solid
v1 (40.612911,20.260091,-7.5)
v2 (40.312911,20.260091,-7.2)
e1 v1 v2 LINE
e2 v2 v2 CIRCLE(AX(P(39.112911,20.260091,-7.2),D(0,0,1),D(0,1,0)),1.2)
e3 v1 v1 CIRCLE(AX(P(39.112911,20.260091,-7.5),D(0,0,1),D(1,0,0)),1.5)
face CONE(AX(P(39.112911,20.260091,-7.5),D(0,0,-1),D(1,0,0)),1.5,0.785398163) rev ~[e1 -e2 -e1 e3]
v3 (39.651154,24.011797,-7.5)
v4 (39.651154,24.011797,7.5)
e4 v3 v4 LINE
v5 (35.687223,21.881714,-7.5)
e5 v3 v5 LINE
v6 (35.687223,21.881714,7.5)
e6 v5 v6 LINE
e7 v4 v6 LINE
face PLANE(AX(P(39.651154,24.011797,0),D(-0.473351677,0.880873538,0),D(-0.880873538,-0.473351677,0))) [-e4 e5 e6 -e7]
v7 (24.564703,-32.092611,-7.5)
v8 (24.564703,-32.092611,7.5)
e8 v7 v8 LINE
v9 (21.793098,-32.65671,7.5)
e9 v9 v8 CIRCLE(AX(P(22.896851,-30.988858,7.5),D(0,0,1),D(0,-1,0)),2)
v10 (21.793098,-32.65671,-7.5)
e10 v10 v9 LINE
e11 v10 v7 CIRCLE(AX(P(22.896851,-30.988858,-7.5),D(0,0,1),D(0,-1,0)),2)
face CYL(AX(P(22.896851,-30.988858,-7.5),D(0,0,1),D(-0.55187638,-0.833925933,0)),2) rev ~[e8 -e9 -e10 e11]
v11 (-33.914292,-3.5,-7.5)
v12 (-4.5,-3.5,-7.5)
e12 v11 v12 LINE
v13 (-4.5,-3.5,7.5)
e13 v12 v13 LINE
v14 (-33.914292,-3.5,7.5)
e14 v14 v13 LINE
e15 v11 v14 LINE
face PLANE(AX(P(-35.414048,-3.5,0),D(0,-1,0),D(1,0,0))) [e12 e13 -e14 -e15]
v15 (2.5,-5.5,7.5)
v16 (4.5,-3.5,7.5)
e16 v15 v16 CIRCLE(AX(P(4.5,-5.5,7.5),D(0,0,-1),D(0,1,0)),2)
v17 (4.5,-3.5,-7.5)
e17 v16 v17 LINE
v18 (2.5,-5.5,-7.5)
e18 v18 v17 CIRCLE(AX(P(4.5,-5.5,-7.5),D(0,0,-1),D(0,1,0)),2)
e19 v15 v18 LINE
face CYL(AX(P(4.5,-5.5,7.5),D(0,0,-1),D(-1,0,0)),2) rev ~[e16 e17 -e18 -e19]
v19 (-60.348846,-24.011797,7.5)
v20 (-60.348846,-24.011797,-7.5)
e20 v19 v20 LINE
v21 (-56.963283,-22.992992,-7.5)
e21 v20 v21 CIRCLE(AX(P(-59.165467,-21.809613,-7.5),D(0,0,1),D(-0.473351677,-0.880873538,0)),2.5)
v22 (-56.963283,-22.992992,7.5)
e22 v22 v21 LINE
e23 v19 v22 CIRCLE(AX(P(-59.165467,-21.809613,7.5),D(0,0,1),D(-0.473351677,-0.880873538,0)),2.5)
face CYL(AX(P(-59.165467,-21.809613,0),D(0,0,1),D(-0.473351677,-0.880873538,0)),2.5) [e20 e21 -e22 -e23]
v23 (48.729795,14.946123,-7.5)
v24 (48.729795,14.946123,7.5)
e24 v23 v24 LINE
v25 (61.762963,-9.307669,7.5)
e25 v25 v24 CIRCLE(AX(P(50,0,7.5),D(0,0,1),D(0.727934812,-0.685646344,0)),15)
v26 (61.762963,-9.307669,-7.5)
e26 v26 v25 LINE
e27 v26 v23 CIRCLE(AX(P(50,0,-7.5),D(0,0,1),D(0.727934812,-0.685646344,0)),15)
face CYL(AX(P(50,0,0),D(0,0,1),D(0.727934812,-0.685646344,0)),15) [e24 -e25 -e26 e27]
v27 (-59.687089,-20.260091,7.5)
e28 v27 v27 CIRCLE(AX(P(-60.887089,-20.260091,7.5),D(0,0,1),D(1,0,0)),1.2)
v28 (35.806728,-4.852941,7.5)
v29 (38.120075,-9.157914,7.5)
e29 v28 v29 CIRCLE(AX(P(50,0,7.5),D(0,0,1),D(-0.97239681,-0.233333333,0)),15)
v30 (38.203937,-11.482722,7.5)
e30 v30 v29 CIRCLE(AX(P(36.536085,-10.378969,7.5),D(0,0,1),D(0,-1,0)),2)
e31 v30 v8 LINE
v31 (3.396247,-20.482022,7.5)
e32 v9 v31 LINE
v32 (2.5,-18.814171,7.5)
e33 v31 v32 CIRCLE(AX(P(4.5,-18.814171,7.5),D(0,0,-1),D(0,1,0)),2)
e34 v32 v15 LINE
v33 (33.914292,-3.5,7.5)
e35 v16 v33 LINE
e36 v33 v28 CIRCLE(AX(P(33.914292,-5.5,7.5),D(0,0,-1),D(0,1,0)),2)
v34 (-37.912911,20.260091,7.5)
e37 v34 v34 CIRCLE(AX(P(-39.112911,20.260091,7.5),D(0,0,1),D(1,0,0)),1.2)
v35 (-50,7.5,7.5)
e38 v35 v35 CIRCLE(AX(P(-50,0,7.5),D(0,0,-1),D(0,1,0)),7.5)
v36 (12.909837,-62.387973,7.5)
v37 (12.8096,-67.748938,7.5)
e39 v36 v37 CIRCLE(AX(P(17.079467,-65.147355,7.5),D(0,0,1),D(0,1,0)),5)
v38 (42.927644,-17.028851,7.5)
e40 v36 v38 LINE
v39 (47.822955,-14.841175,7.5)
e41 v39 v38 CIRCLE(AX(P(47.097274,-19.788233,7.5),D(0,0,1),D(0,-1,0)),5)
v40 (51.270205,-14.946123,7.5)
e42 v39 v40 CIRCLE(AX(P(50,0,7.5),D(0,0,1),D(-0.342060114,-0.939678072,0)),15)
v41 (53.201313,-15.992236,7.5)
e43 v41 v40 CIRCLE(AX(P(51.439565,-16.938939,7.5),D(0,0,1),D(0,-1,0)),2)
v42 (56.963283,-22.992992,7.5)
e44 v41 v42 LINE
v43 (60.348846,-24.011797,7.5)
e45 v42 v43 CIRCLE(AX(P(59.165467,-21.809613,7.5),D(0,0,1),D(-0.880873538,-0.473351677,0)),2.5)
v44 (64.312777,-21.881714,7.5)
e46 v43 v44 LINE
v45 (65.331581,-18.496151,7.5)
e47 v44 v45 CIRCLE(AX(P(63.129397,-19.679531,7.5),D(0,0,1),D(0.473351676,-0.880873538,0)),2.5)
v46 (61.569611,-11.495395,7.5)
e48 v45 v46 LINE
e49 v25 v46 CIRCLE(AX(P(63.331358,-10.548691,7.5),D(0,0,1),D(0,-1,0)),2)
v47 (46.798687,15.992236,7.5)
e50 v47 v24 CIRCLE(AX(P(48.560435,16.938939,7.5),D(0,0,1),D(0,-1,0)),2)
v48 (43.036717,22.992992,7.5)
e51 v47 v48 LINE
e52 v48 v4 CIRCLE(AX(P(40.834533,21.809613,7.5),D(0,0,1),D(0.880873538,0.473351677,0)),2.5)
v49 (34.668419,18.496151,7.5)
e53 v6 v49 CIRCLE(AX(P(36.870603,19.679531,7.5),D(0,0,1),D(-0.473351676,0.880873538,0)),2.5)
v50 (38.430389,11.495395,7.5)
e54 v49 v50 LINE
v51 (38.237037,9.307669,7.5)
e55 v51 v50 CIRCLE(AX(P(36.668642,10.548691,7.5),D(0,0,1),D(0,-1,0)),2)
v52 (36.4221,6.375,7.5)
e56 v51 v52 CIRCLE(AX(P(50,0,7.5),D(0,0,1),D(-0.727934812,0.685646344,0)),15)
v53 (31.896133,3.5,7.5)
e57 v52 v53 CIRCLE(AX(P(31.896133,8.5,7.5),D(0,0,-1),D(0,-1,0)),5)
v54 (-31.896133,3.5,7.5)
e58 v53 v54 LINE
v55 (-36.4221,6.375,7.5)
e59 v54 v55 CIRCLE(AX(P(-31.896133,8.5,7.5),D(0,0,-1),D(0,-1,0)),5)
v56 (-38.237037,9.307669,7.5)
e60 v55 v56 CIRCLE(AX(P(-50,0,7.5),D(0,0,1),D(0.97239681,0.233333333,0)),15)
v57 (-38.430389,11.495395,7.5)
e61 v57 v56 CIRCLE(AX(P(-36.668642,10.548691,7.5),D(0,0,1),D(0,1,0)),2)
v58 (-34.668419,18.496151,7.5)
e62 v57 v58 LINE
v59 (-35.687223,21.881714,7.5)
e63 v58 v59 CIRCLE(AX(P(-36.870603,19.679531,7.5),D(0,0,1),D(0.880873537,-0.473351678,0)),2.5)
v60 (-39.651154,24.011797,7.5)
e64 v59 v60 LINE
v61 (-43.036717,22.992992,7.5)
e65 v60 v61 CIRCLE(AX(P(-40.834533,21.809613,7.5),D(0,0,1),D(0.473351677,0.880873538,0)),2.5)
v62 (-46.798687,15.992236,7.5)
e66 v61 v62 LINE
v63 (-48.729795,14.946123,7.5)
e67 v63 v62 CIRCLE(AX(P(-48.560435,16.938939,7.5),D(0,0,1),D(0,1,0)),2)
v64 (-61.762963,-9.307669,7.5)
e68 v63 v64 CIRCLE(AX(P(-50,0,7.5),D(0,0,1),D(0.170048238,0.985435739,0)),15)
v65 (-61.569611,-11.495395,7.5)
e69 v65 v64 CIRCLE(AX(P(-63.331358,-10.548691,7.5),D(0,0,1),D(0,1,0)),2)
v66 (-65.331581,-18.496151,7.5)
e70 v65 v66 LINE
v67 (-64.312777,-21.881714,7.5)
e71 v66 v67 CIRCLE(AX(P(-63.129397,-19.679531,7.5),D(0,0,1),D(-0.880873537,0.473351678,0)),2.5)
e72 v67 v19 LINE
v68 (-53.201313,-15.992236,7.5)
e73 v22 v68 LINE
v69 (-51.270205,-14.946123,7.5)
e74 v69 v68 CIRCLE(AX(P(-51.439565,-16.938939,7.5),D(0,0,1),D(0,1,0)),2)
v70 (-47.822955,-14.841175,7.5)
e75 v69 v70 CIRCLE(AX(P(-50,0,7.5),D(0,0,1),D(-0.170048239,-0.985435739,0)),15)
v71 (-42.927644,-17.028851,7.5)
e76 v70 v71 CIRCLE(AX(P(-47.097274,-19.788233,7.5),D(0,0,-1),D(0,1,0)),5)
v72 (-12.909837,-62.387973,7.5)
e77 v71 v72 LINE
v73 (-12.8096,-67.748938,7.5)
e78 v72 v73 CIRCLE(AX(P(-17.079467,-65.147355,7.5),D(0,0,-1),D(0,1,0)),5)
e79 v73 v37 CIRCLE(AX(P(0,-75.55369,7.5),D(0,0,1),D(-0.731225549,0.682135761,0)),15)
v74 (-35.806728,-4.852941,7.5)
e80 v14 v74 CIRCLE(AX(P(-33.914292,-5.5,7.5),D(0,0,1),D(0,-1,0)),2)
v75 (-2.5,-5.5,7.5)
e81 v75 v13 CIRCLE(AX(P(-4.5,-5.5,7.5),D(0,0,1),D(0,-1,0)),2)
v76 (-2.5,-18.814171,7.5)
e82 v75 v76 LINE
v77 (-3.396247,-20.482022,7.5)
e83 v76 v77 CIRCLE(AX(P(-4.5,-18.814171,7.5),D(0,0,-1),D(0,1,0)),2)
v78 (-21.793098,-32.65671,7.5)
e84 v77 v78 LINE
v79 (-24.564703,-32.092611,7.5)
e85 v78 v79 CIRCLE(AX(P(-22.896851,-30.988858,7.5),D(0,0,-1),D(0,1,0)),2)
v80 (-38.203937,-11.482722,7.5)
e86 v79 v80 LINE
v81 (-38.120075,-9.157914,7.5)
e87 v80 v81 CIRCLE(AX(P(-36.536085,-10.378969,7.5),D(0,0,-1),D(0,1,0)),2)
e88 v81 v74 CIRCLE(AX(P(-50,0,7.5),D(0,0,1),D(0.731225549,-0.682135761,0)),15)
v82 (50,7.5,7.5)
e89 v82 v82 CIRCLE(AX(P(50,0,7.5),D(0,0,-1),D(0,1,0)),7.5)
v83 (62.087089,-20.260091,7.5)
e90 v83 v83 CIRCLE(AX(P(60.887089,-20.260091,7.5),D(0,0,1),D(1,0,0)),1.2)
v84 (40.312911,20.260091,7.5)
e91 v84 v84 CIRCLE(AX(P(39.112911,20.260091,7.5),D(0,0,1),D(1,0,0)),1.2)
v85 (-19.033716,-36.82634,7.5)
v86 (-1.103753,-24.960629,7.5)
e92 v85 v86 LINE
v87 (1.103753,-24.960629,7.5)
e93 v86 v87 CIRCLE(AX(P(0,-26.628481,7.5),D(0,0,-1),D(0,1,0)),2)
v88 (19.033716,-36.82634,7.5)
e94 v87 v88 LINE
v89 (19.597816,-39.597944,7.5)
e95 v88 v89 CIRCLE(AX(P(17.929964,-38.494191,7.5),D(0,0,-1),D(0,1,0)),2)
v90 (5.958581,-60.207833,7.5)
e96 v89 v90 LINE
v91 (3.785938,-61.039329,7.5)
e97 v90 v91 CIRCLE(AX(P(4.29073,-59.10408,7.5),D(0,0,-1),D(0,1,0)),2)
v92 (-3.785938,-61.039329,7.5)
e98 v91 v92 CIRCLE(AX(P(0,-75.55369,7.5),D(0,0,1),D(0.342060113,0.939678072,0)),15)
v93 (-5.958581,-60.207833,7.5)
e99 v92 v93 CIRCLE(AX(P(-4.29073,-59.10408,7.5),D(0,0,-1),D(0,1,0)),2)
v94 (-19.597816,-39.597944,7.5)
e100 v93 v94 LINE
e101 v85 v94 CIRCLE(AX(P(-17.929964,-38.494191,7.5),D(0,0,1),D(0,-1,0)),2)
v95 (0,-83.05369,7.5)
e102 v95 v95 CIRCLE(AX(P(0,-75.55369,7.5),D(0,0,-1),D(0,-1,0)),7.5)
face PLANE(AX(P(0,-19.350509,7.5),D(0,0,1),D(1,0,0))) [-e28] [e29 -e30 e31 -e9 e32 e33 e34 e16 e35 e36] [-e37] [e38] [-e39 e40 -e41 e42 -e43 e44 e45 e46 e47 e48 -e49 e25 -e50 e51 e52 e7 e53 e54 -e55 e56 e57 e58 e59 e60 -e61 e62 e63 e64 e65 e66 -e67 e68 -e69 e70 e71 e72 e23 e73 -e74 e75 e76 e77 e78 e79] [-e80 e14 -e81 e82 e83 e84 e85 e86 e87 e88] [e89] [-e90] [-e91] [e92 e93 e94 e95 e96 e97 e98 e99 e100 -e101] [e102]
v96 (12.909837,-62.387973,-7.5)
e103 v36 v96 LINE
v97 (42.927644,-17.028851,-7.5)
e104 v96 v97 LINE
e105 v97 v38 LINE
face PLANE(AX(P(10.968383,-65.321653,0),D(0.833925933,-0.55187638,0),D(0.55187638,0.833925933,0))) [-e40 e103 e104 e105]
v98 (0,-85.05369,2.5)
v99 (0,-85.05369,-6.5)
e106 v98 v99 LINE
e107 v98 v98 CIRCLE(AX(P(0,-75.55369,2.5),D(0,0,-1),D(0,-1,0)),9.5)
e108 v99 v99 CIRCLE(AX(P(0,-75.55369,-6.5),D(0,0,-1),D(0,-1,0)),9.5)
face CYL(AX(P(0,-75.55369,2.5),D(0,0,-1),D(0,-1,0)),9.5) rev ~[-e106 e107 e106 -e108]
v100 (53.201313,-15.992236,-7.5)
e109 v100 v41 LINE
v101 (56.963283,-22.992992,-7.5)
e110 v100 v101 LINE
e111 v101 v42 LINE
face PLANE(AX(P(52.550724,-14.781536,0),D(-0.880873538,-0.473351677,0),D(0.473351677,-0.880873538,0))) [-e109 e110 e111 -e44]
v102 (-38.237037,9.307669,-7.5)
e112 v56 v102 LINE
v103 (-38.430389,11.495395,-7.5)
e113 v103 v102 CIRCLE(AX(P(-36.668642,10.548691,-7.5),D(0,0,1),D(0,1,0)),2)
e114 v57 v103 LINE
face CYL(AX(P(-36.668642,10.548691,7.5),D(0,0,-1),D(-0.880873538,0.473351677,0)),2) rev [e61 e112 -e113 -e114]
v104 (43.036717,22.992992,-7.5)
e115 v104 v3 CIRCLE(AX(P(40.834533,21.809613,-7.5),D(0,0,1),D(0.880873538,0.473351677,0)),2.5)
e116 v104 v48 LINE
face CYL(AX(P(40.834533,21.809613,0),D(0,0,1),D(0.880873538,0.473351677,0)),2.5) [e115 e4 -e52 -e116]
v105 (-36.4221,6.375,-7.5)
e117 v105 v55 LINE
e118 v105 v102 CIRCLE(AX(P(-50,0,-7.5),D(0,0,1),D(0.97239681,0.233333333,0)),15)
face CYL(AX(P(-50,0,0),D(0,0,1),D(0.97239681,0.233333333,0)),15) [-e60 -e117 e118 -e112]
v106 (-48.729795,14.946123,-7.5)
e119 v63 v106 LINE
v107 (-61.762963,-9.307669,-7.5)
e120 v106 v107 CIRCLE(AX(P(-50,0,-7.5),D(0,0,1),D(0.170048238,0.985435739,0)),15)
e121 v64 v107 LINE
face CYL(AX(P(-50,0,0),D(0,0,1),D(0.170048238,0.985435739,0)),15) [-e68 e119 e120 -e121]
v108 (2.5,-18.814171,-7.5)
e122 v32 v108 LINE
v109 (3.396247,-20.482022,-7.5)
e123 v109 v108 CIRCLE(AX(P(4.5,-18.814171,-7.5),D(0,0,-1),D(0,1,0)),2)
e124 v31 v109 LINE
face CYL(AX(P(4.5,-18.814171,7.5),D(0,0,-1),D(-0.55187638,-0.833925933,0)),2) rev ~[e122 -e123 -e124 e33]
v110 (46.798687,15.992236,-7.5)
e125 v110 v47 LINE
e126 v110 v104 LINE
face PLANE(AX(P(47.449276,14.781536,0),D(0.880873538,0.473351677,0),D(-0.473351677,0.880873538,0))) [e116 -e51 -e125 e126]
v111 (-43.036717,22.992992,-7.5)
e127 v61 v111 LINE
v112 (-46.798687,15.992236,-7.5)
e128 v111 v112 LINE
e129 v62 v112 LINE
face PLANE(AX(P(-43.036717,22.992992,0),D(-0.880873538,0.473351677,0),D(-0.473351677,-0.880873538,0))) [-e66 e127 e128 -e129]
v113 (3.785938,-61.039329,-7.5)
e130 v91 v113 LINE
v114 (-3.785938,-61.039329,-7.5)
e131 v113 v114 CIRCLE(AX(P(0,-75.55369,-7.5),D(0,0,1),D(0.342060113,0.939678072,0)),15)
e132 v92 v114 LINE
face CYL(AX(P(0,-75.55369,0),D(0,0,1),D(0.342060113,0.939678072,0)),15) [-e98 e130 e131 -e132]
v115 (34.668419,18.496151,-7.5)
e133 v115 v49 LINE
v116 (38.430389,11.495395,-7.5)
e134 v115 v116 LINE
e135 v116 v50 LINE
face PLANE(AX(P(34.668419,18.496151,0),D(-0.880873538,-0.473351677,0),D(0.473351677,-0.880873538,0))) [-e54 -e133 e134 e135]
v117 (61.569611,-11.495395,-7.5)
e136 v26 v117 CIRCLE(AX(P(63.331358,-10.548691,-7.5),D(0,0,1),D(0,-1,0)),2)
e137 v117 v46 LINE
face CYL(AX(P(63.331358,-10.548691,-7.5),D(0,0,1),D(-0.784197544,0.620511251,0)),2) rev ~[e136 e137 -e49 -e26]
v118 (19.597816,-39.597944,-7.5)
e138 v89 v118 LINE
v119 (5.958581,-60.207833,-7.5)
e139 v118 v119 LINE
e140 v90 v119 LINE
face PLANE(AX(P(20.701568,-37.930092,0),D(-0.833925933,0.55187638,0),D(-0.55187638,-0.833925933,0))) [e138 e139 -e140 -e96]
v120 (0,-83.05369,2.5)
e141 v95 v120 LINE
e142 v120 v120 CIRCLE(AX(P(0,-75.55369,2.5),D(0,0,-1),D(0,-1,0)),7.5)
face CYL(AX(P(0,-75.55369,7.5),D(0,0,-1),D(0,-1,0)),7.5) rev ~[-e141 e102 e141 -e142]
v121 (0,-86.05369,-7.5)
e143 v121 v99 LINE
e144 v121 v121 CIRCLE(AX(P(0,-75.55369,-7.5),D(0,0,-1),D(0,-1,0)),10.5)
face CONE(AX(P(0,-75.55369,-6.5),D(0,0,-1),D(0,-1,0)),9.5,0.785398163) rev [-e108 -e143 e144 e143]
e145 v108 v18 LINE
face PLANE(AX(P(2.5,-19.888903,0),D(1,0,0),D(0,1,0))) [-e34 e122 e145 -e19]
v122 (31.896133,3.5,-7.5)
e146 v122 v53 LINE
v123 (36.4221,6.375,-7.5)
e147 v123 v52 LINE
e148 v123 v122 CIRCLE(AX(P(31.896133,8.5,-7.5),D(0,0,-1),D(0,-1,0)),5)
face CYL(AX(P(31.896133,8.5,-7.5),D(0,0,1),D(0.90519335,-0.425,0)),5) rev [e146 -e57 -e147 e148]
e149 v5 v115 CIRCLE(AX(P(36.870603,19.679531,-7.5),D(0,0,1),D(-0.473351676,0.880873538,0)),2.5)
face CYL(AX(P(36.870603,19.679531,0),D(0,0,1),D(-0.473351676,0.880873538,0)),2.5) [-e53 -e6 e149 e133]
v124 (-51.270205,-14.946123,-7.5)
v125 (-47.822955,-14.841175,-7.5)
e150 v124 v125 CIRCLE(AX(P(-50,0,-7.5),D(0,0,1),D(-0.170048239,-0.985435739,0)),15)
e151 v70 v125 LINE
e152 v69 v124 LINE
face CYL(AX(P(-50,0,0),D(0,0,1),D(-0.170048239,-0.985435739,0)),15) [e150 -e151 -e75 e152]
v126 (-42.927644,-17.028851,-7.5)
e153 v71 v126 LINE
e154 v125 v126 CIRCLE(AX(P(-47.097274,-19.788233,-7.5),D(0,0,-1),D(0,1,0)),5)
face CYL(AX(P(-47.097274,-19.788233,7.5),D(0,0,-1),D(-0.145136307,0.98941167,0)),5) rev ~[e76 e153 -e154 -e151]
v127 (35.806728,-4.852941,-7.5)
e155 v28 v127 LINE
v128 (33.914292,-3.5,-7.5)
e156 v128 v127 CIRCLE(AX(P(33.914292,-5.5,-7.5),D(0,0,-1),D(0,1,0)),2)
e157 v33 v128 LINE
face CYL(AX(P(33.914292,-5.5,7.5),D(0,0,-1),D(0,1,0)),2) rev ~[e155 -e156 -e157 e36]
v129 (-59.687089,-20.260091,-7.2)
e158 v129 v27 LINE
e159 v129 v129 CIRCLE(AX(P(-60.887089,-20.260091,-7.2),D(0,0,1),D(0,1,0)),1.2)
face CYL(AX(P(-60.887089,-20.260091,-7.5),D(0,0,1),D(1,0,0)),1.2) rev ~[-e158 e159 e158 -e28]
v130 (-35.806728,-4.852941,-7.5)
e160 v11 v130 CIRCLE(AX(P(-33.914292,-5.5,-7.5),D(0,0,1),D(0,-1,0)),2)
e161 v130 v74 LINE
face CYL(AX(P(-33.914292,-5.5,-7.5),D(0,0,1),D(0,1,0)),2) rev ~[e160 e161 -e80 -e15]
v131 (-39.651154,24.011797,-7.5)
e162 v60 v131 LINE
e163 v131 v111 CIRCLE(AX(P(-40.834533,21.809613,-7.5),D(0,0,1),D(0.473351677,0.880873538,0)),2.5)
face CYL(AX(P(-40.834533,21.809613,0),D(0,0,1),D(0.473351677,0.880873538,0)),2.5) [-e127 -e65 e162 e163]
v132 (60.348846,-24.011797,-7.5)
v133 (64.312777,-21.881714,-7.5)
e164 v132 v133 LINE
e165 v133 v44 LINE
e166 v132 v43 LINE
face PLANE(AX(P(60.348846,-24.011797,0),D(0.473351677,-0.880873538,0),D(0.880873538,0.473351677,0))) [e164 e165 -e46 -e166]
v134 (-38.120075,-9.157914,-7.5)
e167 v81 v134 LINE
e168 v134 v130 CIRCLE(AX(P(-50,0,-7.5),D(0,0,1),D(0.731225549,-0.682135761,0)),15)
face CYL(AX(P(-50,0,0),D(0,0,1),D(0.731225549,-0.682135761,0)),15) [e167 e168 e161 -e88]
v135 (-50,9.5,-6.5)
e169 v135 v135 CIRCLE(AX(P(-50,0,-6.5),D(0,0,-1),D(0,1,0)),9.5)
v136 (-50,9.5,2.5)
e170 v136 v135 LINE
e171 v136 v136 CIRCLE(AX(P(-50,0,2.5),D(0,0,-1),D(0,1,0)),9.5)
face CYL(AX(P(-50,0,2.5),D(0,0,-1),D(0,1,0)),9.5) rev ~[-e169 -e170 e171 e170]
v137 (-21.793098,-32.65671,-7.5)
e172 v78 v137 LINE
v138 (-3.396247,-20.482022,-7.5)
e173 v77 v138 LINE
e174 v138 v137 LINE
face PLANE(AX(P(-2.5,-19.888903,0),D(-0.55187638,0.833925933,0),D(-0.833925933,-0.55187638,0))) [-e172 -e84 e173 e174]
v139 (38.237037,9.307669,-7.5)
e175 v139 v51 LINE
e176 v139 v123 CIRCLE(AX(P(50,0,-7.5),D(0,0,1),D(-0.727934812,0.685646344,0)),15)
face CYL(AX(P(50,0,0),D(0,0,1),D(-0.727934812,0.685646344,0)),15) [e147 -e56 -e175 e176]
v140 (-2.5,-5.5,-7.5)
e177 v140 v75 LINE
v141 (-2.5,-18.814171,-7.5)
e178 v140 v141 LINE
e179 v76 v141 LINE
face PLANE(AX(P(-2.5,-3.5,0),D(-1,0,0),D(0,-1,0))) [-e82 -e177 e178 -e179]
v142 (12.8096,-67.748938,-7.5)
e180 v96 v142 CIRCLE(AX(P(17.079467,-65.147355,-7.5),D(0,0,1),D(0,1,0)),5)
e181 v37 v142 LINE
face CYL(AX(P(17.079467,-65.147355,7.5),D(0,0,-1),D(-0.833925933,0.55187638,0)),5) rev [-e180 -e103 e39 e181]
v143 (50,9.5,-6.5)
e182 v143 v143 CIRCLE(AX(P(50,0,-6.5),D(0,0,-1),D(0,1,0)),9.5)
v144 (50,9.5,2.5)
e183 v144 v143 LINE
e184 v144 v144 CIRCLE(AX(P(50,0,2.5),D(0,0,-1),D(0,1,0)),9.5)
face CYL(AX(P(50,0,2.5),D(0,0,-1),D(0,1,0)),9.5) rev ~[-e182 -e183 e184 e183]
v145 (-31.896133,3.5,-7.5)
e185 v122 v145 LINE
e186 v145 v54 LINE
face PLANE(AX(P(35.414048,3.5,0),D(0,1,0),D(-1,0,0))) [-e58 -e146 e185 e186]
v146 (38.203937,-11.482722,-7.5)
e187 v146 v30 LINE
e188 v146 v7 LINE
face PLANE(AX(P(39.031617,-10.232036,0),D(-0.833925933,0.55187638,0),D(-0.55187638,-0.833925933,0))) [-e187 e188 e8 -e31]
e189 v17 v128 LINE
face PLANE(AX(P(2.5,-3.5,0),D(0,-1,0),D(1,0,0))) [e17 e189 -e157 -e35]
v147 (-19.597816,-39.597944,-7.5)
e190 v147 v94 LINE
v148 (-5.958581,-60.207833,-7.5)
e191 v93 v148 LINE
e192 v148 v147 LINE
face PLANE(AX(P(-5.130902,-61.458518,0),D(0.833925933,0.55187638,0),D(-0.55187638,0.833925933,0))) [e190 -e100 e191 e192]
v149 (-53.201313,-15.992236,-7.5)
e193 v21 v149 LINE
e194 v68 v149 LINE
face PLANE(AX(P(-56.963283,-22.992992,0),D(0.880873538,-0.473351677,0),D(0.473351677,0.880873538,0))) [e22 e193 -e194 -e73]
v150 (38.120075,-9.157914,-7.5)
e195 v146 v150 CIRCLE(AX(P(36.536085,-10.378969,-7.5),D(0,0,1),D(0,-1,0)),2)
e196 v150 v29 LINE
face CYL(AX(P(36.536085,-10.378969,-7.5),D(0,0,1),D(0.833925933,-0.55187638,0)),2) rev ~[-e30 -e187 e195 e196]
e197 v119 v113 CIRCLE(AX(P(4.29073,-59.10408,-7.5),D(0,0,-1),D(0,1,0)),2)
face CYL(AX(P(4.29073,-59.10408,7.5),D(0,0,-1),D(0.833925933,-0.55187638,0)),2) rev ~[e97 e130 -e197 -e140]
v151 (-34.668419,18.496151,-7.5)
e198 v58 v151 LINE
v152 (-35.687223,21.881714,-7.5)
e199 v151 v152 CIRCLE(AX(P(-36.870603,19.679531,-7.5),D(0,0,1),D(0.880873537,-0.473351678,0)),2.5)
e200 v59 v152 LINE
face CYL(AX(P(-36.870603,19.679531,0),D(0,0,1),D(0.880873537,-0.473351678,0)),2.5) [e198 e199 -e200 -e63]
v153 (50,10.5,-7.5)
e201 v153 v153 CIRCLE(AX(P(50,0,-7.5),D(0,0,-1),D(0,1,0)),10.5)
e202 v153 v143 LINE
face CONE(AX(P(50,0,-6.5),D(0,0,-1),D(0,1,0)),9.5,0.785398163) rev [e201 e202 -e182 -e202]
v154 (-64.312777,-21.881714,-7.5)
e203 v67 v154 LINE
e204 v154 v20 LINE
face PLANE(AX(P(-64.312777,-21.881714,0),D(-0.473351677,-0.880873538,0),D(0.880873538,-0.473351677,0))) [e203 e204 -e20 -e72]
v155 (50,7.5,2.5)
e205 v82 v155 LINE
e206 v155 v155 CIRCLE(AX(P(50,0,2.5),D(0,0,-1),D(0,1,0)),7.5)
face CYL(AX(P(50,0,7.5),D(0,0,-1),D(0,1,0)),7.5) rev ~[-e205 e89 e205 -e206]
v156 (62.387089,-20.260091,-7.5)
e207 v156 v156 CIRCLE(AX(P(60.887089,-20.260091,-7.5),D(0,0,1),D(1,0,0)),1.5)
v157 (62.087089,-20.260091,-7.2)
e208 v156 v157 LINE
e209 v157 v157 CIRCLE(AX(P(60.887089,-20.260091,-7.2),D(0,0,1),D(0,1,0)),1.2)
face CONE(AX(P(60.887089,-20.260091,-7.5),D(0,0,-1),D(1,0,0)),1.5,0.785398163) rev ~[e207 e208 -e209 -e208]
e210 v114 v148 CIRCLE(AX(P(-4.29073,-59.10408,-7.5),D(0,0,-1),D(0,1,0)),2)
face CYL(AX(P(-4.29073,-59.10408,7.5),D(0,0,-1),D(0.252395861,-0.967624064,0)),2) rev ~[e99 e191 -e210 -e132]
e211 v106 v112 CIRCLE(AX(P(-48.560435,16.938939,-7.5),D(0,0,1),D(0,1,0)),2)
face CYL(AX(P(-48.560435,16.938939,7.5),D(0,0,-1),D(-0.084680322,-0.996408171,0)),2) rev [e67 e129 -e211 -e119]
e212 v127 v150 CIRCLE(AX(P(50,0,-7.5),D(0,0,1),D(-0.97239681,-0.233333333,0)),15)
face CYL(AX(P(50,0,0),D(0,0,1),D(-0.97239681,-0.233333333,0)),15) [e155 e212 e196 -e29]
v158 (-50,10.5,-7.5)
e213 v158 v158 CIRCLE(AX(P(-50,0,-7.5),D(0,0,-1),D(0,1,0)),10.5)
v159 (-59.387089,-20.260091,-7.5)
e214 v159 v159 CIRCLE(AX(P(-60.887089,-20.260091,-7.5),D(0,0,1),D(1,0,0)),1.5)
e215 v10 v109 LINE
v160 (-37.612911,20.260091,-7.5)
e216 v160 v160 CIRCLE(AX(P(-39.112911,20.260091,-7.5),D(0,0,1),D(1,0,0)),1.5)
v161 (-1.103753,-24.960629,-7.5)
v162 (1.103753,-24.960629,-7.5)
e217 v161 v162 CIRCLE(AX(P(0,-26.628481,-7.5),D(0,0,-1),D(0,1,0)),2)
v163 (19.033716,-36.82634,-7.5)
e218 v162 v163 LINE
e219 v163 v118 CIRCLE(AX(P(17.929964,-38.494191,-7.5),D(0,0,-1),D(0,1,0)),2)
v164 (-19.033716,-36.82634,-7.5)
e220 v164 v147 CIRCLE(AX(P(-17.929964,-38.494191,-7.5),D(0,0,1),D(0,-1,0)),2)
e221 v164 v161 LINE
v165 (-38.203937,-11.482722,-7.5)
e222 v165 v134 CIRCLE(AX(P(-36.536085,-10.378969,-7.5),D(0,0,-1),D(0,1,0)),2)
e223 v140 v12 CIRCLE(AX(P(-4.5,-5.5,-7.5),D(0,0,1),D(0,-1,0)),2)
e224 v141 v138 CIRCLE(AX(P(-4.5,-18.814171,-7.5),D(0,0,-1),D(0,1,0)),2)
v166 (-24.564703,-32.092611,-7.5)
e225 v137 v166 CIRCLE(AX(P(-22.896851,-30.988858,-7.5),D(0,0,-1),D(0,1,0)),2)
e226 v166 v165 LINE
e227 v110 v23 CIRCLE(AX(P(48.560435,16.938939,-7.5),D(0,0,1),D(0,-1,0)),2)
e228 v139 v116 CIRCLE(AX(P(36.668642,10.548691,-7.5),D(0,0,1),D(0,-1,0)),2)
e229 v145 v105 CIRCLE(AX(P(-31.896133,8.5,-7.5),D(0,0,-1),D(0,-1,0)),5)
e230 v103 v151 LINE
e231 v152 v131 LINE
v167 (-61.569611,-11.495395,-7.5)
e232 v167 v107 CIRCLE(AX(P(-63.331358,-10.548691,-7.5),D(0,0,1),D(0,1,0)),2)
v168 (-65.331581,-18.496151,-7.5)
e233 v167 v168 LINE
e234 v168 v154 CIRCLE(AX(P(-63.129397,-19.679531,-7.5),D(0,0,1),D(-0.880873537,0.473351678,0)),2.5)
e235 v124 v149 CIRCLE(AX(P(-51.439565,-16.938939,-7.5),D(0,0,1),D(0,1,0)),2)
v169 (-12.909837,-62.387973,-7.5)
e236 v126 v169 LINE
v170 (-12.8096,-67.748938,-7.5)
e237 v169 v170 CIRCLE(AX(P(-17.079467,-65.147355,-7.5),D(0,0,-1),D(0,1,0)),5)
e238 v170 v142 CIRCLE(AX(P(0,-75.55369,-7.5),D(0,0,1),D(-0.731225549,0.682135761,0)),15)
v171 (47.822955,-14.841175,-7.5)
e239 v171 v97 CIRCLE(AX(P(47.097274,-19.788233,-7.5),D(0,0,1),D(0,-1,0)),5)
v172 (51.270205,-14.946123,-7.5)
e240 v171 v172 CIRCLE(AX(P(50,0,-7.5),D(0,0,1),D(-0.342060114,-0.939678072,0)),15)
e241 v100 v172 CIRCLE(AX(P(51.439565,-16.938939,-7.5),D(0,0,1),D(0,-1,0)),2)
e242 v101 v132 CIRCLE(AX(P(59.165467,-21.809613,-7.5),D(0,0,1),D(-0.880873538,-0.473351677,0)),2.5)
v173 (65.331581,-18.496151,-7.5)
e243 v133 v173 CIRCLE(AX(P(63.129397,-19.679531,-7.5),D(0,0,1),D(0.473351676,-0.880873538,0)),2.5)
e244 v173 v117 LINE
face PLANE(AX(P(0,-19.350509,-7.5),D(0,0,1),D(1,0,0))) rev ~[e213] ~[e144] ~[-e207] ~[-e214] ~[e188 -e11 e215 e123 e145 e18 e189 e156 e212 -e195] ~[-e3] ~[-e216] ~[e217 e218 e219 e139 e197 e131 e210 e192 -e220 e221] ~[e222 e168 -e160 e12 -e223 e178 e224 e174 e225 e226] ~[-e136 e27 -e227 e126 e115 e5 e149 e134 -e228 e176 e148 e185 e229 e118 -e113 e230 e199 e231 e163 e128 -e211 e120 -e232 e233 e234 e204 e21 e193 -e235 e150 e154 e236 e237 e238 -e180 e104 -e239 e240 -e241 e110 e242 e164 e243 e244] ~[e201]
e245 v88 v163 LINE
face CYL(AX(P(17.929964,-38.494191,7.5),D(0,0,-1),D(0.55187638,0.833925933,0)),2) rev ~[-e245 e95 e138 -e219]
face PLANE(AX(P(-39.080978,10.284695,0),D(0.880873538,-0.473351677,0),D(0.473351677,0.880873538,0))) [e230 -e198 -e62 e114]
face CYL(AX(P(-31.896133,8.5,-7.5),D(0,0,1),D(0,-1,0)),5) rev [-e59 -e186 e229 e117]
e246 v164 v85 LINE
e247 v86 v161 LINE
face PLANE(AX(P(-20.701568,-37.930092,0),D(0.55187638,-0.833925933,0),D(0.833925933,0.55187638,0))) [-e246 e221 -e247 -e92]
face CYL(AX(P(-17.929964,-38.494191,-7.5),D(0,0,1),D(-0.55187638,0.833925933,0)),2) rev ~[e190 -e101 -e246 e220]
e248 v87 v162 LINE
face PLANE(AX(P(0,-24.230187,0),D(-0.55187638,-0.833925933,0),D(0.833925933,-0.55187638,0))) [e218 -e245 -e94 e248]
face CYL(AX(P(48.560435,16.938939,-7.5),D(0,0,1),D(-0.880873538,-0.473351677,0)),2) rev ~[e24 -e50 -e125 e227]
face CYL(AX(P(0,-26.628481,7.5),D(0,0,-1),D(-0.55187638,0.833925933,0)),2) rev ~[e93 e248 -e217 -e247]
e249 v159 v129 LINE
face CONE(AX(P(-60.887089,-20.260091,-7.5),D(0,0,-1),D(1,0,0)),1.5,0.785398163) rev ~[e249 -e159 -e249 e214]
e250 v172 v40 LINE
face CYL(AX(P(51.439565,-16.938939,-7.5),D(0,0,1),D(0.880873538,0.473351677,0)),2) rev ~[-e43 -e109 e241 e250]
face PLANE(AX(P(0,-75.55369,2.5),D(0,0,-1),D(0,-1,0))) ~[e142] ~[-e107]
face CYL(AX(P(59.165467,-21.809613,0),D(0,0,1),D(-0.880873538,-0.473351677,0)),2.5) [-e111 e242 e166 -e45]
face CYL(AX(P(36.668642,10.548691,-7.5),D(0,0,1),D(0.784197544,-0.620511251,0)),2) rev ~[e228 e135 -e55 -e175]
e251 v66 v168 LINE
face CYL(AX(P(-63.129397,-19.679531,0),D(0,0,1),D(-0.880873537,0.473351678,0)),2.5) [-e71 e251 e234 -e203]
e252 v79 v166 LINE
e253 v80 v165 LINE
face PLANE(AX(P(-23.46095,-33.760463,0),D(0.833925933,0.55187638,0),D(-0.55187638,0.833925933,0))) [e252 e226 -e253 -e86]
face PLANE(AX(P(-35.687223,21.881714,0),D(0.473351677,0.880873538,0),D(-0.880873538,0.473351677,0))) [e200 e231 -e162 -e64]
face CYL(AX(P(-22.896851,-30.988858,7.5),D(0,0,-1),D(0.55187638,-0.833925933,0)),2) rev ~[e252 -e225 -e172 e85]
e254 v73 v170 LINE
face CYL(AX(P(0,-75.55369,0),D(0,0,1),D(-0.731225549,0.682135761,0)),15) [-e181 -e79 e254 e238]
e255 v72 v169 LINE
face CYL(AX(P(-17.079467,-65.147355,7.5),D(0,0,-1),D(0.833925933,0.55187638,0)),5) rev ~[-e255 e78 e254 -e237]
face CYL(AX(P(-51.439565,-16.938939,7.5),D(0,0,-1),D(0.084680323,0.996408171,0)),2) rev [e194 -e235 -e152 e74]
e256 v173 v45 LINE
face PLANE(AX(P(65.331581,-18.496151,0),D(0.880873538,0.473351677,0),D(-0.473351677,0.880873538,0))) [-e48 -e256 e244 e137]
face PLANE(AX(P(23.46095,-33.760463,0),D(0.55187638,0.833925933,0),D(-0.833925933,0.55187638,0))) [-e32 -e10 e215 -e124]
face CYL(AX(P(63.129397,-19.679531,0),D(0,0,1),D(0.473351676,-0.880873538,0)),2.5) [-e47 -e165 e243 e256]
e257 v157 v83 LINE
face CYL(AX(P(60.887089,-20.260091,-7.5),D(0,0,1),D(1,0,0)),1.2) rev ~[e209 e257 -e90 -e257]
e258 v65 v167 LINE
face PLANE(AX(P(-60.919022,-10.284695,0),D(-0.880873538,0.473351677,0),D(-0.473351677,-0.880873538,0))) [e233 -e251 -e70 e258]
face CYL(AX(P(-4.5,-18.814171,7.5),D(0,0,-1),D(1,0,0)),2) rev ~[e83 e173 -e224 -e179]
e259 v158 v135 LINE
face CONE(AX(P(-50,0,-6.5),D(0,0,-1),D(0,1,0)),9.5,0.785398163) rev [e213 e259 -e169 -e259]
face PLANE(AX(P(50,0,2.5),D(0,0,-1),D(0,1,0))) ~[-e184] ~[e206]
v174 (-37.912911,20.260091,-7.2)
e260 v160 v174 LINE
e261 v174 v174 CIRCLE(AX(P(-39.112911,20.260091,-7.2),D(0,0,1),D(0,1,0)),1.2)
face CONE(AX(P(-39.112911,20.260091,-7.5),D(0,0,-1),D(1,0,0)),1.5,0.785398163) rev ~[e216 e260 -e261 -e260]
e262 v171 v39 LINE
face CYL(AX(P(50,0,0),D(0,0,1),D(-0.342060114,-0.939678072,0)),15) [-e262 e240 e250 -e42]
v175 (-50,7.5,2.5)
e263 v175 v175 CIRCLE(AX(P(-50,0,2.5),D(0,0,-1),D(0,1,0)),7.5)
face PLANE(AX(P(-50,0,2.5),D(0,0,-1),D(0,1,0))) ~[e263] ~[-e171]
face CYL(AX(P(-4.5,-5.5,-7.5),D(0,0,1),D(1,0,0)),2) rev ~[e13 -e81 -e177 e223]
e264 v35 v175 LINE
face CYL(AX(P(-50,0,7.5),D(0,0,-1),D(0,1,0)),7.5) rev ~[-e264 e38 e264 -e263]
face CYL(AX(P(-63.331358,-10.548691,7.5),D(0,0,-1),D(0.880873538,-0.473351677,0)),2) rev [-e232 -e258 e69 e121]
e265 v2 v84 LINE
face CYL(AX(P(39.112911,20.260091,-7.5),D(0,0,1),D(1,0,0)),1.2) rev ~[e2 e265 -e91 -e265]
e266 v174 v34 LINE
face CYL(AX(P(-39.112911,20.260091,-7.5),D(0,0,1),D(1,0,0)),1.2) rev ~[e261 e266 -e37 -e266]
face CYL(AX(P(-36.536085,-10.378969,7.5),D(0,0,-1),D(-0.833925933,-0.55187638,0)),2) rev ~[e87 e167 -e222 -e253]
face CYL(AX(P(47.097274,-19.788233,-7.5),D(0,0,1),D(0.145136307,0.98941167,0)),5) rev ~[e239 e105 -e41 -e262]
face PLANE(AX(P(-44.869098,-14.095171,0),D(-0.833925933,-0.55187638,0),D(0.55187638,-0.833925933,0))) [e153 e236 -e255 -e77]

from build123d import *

# Parameters (mm, degrees)
BOSS_EXTRUDE1_DEPTH           = 7.5
FILLET1_R                     = 2
FILLET2_R                     = 5
CHAMFER1_SIZE                 = 1
M2_5_TAPPED_HOLE1_D           = 2.4
M2_5_TAPPED_HOLE1_CSINK_D     = 3
M2_5_TAPPED_HOLE1_CSINK_ANGLE = 90


with BuildPart() as part:
    # Sketch1 → Boss-Extrude1 (new body, symmetric)
    with BuildSketch(Plane.XY):
        with BuildLine():
            Line((10.96838323, -65.321653098), (44.869098301, -14.095171079))
            ThreePointArc((44.869098301, -14.095171079), (48.66504531, -14.940478439), (52.550723574, -14.781536092))
            Line((52.550723574, -14.781536092), (56.963282689, -22.992992284))
            ThreePointArc((56.963282689, -22.992992284), (58.445062856, -24.203567674), (60.348845726, -24.011796937))
            Line((60.348845726, -24.011796937), (64.312776647, -21.88171439))
            ThreePointArc((64.312776647, -21.88171439), (65.523352037, -20.399934224), (65.331581299, -18.496151353))
            Line((65.331581299, -18.496151353), (60.919022184, -10.284695161))
            ThreePointArc((60.919022184, -10.284695161), (63.213103069, 7.100275156), (47.449276426, 14.781536092))
            Line((47.449276426, 14.781536092), (43.036717311, 22.992992284))
            ThreePointArc((43.036717311, 22.992992284), (41.554937144, 24.203567674), (39.651154274, 24.011796937))
            Line((39.651154274, 24.011796937), (35.687223353, 21.88171439))
            ThreePointArc((35.687223353, 21.88171439), (34.476647963, 20.399934224), (34.668418701, 18.496151353))
            Line((34.668418701, 18.496151353), (39.080977816, 10.284695161))
            ThreePointArc((39.080977816, 10.284695161), (36.804017619, 7.132043817), (35.414047854, 3.5))
            Line((35.414047854, 3.5), (-35.414047854, 3.5))
            ThreePointArc((-35.414047854, 3.5), (-36.804017619, 7.132043817), (-39.080977816, 10.284695161))
            Line((-39.080977816, 10.284695161), (-34.668418701, 18.496151353))
            ThreePointArc((-34.668418701, 18.496151353), (-34.476647963, 20.399934224), (-35.687223353, 21.88171439))
            Line((-35.687223353, 21.88171439), (-39.651154274, 24.011796937))
            ThreePointArc((-39.651154274, 24.011796937), (-41.554937144, 24.203567674), (-43.036717311, 22.992992284))
            Line((-43.036717311, 22.992992284), (-47.449276426, 14.781536092))
            ThreePointArc((-47.449276426, 14.781536092), (-63.213103069, 7.100275156), (-60.919022184, -10.284695161))
            Line((-60.919022184, -10.284695161), (-65.331581299, -18.496151353))
            ThreePointArc((-65.331581299, -18.496151353), (-65.523352037, -20.399934224), (-64.312776647, -21.88171439))
            Line((-64.312776647, -21.88171439), (-60.348845726, -24.011796937))
            ThreePointArc((-60.348845726, -24.011796937), (-58.445062856, -24.203567674), (-56.963282689, -22.992992284))
            Line((-56.963282689, -22.992992284), (-52.550723574, -14.781536092))
            ThreePointArc((-52.550723574, -14.781536092), (-48.66504531, -14.940478439), (-44.869098301, -14.095171079))
            Line((-44.869098301, -14.095171079), (-10.96838323, -65.321653098))
            ThreePointArc((-10.96838323, -65.321653098), (0, -90.553689519), (10.96838323, -65.321653098))
        make_face()
        with BuildLine():
            Line((39.03161677, -10.232036421), (23.460950184, -33.760462599))
            Line((23.460950184, -33.760462599), (2.5, -19.888902972))
            Line((2.5, -19.888902972), (2.5, -3.5))
            Line((2.5, -3.5), (35.414047854, -3.5))
            ThreePointArc((35.414047854, -3.5), (36.786896931, -7.100275156), (39.03161677, -10.232036421))
        make_face(mode=Mode.SUBTRACT)
        with BuildLine():
            Line((-35.414047854, -3.5), (-2.5, -3.5))
            Line((-2.5, -3.5), (-2.5, -19.888902972))
            Line((-2.5, -19.888902972), (-23.460950184, -33.760462599))
            Line((-23.460950184, -33.760462599), (-39.03161677, -10.232036421))
            ThreePointArc((-39.03161677, -10.232036421), (-36.786896931, -7.100275156), (-35.414047854, -3.5))
        make_face(mode=Mode.SUBTRACT)
        with BuildLine():
            Line((-20.701568286, -37.930092263), (0, -24.230186661))
            Line((0, -24.230186661), (20.701568286, -37.930092263))
            Line((20.701568286, -37.930092263), (5.130901699, -61.45851844))
            ThreePointArc((5.130901699, -61.45851844), (0, -60.553689519), (-5.130901699, -61.45851844))
            Line((-5.130901699, -61.45851844), (-20.701568286, -37.930092263))
        make_face(mode=Mode.SUBTRACT)
    extrude(amount=BOSS_EXTRUDE1_DEPTH, both=True)

    # Fillet1
    fillet1_edges = [part.edges().sort_by_distance(p)[0] for p in [
        (-35.414047854, -3.5, 0),
        (-39.03161677, -10.232036421, 0),
        (-23.460950184, -33.760462599, 0),
        (-2.5, -19.888902972, 0),
        (-2.5, -3.5, 0),
        (-52.550723574, -14.781536092, 0),
        (-60.919022184, -10.284695161, 0),
        (-47.449276426, 14.781536092, 0),
        (-39.080977816, 10.284695161, 0),
        (39.080977816, 10.284695161, 0),
        (47.449276426, 14.781536092, 0),
        (60.919022184, -10.284695161, 0),
        (52.550723574, -14.781536092, 0),
        (39.03161677, -10.232036421, 0),
        (35.414047854, -3.5, 0),
        (2.5, -3.5, 0),
        (2.5, -19.888902972, 0),
        (23.460950184, -33.760462599, 0),
        (-5.130901699, -61.45851844, 0),
        (5.130901699, -61.45851844, 0),
        (20.701568286, -37.930092263, 0),
        (0, -24.230186661, 0),
        (-20.701568286, -37.930092263, 0),
    ]]
    fillet(fillet1_edges, radius=FILLET1_R)

    # Fillet2
    fillet2_edges = [part.edges().sort_by_distance(p)[0] for p in [
        (-10.96838323, -65.321653098, 0),
        (-44.869098301, -14.095171079, 0),
        (-35.414047854, 3.5, 0),
        (35.414047854, 3.5, 0),
        (44.869098301, -14.095171079, 0),
        (10.96838323, -65.321653098, 0),
    ]]
    fillet(fillet2_edges, radius=FILLET2_R)

    # Sketch6 → Cut-Revolve1 (revolve, cut)
    with BuildSketch(Plane(origin=(-50, 0, 0), x_dir=(0, 0, -1), z_dir=(1, 0, 0))):
        Polygon((-7.5, 0), (-7.5, 7.5), (-2.5, 7.5), (-2.5, 9.5), (7.5, 9.5), (7.5, 0), align=None)
    revolve(axis=Axis((-50, 0, 7.5), (0, 0, -1)), mode=Mode.SUBTRACT)

    # Sketch7 → Cut-Revolve2 (revolve, cut)
    with BuildSketch(Plane(origin=(50, 0, 0), x_dir=(0, 0, -1), z_dir=(1, 0, 0))):
        Polygon((7.5, 0), (-7.5, 0), (-7.5, 7.5), (-2.5, 7.5), (-2.5, 9.5), (7.5, 9.5), align=None)
    revolve(axis=Axis((50, 0, 7.5), (0, 0, -1)), mode=Mode.SUBTRACT)

    # Sketch8 → Cut-Revolve3 (revolve, cut)
    with BuildSketch(Plane(origin=(0, 0, 0), x_dir=(0, 0, -1), z_dir=(1, 0, 0))):
        Polygon((7.5, -75.553689519), (-15.002177418, -75.553689519), (-7.5, -83.053689519), (-2.5, -83.053689519), (-2.5, -85.053689519), (7.5, -85.053689519), align=None)
    revolve(axis=Axis((0, -75.553689519, 7.5), (0, 0, -1)), mode=Mode.SUBTRACT)

    # Chamfer1
    chamfer1_edges = [part.edges().sort_by_distance(p)[0] for p in [
        (-50, -9.5, -7.5),
        (50, -9.5, -7.5),
        (0, -66.053689519, -7.5),
    ]]
    chamfer(chamfer1_edges, length=CHAMFER1_SIZE)

    # M2.5 Tapped Hole1 (through all)
    with Locations(Plane(origin=(0, 0, -7.5), x_dir=(-1, 0, 0), z_dir=(0, 0, -1))):
        with Locations((-39.112911428, 20.260091373), (-60.887088572, -20.260091373), (39.112911428, 20.260091373), (60.887088572, -20.260091373)):
            CounterSinkHole(M2_5_TAPPED_HOLE1_D / 2, M2_5_TAPPED_HOLE1_CSINK_D / 2, counter_sink_angle=M2_5_TAPPED_HOLE1_CSINK_ANGLE)


solid = part.part
